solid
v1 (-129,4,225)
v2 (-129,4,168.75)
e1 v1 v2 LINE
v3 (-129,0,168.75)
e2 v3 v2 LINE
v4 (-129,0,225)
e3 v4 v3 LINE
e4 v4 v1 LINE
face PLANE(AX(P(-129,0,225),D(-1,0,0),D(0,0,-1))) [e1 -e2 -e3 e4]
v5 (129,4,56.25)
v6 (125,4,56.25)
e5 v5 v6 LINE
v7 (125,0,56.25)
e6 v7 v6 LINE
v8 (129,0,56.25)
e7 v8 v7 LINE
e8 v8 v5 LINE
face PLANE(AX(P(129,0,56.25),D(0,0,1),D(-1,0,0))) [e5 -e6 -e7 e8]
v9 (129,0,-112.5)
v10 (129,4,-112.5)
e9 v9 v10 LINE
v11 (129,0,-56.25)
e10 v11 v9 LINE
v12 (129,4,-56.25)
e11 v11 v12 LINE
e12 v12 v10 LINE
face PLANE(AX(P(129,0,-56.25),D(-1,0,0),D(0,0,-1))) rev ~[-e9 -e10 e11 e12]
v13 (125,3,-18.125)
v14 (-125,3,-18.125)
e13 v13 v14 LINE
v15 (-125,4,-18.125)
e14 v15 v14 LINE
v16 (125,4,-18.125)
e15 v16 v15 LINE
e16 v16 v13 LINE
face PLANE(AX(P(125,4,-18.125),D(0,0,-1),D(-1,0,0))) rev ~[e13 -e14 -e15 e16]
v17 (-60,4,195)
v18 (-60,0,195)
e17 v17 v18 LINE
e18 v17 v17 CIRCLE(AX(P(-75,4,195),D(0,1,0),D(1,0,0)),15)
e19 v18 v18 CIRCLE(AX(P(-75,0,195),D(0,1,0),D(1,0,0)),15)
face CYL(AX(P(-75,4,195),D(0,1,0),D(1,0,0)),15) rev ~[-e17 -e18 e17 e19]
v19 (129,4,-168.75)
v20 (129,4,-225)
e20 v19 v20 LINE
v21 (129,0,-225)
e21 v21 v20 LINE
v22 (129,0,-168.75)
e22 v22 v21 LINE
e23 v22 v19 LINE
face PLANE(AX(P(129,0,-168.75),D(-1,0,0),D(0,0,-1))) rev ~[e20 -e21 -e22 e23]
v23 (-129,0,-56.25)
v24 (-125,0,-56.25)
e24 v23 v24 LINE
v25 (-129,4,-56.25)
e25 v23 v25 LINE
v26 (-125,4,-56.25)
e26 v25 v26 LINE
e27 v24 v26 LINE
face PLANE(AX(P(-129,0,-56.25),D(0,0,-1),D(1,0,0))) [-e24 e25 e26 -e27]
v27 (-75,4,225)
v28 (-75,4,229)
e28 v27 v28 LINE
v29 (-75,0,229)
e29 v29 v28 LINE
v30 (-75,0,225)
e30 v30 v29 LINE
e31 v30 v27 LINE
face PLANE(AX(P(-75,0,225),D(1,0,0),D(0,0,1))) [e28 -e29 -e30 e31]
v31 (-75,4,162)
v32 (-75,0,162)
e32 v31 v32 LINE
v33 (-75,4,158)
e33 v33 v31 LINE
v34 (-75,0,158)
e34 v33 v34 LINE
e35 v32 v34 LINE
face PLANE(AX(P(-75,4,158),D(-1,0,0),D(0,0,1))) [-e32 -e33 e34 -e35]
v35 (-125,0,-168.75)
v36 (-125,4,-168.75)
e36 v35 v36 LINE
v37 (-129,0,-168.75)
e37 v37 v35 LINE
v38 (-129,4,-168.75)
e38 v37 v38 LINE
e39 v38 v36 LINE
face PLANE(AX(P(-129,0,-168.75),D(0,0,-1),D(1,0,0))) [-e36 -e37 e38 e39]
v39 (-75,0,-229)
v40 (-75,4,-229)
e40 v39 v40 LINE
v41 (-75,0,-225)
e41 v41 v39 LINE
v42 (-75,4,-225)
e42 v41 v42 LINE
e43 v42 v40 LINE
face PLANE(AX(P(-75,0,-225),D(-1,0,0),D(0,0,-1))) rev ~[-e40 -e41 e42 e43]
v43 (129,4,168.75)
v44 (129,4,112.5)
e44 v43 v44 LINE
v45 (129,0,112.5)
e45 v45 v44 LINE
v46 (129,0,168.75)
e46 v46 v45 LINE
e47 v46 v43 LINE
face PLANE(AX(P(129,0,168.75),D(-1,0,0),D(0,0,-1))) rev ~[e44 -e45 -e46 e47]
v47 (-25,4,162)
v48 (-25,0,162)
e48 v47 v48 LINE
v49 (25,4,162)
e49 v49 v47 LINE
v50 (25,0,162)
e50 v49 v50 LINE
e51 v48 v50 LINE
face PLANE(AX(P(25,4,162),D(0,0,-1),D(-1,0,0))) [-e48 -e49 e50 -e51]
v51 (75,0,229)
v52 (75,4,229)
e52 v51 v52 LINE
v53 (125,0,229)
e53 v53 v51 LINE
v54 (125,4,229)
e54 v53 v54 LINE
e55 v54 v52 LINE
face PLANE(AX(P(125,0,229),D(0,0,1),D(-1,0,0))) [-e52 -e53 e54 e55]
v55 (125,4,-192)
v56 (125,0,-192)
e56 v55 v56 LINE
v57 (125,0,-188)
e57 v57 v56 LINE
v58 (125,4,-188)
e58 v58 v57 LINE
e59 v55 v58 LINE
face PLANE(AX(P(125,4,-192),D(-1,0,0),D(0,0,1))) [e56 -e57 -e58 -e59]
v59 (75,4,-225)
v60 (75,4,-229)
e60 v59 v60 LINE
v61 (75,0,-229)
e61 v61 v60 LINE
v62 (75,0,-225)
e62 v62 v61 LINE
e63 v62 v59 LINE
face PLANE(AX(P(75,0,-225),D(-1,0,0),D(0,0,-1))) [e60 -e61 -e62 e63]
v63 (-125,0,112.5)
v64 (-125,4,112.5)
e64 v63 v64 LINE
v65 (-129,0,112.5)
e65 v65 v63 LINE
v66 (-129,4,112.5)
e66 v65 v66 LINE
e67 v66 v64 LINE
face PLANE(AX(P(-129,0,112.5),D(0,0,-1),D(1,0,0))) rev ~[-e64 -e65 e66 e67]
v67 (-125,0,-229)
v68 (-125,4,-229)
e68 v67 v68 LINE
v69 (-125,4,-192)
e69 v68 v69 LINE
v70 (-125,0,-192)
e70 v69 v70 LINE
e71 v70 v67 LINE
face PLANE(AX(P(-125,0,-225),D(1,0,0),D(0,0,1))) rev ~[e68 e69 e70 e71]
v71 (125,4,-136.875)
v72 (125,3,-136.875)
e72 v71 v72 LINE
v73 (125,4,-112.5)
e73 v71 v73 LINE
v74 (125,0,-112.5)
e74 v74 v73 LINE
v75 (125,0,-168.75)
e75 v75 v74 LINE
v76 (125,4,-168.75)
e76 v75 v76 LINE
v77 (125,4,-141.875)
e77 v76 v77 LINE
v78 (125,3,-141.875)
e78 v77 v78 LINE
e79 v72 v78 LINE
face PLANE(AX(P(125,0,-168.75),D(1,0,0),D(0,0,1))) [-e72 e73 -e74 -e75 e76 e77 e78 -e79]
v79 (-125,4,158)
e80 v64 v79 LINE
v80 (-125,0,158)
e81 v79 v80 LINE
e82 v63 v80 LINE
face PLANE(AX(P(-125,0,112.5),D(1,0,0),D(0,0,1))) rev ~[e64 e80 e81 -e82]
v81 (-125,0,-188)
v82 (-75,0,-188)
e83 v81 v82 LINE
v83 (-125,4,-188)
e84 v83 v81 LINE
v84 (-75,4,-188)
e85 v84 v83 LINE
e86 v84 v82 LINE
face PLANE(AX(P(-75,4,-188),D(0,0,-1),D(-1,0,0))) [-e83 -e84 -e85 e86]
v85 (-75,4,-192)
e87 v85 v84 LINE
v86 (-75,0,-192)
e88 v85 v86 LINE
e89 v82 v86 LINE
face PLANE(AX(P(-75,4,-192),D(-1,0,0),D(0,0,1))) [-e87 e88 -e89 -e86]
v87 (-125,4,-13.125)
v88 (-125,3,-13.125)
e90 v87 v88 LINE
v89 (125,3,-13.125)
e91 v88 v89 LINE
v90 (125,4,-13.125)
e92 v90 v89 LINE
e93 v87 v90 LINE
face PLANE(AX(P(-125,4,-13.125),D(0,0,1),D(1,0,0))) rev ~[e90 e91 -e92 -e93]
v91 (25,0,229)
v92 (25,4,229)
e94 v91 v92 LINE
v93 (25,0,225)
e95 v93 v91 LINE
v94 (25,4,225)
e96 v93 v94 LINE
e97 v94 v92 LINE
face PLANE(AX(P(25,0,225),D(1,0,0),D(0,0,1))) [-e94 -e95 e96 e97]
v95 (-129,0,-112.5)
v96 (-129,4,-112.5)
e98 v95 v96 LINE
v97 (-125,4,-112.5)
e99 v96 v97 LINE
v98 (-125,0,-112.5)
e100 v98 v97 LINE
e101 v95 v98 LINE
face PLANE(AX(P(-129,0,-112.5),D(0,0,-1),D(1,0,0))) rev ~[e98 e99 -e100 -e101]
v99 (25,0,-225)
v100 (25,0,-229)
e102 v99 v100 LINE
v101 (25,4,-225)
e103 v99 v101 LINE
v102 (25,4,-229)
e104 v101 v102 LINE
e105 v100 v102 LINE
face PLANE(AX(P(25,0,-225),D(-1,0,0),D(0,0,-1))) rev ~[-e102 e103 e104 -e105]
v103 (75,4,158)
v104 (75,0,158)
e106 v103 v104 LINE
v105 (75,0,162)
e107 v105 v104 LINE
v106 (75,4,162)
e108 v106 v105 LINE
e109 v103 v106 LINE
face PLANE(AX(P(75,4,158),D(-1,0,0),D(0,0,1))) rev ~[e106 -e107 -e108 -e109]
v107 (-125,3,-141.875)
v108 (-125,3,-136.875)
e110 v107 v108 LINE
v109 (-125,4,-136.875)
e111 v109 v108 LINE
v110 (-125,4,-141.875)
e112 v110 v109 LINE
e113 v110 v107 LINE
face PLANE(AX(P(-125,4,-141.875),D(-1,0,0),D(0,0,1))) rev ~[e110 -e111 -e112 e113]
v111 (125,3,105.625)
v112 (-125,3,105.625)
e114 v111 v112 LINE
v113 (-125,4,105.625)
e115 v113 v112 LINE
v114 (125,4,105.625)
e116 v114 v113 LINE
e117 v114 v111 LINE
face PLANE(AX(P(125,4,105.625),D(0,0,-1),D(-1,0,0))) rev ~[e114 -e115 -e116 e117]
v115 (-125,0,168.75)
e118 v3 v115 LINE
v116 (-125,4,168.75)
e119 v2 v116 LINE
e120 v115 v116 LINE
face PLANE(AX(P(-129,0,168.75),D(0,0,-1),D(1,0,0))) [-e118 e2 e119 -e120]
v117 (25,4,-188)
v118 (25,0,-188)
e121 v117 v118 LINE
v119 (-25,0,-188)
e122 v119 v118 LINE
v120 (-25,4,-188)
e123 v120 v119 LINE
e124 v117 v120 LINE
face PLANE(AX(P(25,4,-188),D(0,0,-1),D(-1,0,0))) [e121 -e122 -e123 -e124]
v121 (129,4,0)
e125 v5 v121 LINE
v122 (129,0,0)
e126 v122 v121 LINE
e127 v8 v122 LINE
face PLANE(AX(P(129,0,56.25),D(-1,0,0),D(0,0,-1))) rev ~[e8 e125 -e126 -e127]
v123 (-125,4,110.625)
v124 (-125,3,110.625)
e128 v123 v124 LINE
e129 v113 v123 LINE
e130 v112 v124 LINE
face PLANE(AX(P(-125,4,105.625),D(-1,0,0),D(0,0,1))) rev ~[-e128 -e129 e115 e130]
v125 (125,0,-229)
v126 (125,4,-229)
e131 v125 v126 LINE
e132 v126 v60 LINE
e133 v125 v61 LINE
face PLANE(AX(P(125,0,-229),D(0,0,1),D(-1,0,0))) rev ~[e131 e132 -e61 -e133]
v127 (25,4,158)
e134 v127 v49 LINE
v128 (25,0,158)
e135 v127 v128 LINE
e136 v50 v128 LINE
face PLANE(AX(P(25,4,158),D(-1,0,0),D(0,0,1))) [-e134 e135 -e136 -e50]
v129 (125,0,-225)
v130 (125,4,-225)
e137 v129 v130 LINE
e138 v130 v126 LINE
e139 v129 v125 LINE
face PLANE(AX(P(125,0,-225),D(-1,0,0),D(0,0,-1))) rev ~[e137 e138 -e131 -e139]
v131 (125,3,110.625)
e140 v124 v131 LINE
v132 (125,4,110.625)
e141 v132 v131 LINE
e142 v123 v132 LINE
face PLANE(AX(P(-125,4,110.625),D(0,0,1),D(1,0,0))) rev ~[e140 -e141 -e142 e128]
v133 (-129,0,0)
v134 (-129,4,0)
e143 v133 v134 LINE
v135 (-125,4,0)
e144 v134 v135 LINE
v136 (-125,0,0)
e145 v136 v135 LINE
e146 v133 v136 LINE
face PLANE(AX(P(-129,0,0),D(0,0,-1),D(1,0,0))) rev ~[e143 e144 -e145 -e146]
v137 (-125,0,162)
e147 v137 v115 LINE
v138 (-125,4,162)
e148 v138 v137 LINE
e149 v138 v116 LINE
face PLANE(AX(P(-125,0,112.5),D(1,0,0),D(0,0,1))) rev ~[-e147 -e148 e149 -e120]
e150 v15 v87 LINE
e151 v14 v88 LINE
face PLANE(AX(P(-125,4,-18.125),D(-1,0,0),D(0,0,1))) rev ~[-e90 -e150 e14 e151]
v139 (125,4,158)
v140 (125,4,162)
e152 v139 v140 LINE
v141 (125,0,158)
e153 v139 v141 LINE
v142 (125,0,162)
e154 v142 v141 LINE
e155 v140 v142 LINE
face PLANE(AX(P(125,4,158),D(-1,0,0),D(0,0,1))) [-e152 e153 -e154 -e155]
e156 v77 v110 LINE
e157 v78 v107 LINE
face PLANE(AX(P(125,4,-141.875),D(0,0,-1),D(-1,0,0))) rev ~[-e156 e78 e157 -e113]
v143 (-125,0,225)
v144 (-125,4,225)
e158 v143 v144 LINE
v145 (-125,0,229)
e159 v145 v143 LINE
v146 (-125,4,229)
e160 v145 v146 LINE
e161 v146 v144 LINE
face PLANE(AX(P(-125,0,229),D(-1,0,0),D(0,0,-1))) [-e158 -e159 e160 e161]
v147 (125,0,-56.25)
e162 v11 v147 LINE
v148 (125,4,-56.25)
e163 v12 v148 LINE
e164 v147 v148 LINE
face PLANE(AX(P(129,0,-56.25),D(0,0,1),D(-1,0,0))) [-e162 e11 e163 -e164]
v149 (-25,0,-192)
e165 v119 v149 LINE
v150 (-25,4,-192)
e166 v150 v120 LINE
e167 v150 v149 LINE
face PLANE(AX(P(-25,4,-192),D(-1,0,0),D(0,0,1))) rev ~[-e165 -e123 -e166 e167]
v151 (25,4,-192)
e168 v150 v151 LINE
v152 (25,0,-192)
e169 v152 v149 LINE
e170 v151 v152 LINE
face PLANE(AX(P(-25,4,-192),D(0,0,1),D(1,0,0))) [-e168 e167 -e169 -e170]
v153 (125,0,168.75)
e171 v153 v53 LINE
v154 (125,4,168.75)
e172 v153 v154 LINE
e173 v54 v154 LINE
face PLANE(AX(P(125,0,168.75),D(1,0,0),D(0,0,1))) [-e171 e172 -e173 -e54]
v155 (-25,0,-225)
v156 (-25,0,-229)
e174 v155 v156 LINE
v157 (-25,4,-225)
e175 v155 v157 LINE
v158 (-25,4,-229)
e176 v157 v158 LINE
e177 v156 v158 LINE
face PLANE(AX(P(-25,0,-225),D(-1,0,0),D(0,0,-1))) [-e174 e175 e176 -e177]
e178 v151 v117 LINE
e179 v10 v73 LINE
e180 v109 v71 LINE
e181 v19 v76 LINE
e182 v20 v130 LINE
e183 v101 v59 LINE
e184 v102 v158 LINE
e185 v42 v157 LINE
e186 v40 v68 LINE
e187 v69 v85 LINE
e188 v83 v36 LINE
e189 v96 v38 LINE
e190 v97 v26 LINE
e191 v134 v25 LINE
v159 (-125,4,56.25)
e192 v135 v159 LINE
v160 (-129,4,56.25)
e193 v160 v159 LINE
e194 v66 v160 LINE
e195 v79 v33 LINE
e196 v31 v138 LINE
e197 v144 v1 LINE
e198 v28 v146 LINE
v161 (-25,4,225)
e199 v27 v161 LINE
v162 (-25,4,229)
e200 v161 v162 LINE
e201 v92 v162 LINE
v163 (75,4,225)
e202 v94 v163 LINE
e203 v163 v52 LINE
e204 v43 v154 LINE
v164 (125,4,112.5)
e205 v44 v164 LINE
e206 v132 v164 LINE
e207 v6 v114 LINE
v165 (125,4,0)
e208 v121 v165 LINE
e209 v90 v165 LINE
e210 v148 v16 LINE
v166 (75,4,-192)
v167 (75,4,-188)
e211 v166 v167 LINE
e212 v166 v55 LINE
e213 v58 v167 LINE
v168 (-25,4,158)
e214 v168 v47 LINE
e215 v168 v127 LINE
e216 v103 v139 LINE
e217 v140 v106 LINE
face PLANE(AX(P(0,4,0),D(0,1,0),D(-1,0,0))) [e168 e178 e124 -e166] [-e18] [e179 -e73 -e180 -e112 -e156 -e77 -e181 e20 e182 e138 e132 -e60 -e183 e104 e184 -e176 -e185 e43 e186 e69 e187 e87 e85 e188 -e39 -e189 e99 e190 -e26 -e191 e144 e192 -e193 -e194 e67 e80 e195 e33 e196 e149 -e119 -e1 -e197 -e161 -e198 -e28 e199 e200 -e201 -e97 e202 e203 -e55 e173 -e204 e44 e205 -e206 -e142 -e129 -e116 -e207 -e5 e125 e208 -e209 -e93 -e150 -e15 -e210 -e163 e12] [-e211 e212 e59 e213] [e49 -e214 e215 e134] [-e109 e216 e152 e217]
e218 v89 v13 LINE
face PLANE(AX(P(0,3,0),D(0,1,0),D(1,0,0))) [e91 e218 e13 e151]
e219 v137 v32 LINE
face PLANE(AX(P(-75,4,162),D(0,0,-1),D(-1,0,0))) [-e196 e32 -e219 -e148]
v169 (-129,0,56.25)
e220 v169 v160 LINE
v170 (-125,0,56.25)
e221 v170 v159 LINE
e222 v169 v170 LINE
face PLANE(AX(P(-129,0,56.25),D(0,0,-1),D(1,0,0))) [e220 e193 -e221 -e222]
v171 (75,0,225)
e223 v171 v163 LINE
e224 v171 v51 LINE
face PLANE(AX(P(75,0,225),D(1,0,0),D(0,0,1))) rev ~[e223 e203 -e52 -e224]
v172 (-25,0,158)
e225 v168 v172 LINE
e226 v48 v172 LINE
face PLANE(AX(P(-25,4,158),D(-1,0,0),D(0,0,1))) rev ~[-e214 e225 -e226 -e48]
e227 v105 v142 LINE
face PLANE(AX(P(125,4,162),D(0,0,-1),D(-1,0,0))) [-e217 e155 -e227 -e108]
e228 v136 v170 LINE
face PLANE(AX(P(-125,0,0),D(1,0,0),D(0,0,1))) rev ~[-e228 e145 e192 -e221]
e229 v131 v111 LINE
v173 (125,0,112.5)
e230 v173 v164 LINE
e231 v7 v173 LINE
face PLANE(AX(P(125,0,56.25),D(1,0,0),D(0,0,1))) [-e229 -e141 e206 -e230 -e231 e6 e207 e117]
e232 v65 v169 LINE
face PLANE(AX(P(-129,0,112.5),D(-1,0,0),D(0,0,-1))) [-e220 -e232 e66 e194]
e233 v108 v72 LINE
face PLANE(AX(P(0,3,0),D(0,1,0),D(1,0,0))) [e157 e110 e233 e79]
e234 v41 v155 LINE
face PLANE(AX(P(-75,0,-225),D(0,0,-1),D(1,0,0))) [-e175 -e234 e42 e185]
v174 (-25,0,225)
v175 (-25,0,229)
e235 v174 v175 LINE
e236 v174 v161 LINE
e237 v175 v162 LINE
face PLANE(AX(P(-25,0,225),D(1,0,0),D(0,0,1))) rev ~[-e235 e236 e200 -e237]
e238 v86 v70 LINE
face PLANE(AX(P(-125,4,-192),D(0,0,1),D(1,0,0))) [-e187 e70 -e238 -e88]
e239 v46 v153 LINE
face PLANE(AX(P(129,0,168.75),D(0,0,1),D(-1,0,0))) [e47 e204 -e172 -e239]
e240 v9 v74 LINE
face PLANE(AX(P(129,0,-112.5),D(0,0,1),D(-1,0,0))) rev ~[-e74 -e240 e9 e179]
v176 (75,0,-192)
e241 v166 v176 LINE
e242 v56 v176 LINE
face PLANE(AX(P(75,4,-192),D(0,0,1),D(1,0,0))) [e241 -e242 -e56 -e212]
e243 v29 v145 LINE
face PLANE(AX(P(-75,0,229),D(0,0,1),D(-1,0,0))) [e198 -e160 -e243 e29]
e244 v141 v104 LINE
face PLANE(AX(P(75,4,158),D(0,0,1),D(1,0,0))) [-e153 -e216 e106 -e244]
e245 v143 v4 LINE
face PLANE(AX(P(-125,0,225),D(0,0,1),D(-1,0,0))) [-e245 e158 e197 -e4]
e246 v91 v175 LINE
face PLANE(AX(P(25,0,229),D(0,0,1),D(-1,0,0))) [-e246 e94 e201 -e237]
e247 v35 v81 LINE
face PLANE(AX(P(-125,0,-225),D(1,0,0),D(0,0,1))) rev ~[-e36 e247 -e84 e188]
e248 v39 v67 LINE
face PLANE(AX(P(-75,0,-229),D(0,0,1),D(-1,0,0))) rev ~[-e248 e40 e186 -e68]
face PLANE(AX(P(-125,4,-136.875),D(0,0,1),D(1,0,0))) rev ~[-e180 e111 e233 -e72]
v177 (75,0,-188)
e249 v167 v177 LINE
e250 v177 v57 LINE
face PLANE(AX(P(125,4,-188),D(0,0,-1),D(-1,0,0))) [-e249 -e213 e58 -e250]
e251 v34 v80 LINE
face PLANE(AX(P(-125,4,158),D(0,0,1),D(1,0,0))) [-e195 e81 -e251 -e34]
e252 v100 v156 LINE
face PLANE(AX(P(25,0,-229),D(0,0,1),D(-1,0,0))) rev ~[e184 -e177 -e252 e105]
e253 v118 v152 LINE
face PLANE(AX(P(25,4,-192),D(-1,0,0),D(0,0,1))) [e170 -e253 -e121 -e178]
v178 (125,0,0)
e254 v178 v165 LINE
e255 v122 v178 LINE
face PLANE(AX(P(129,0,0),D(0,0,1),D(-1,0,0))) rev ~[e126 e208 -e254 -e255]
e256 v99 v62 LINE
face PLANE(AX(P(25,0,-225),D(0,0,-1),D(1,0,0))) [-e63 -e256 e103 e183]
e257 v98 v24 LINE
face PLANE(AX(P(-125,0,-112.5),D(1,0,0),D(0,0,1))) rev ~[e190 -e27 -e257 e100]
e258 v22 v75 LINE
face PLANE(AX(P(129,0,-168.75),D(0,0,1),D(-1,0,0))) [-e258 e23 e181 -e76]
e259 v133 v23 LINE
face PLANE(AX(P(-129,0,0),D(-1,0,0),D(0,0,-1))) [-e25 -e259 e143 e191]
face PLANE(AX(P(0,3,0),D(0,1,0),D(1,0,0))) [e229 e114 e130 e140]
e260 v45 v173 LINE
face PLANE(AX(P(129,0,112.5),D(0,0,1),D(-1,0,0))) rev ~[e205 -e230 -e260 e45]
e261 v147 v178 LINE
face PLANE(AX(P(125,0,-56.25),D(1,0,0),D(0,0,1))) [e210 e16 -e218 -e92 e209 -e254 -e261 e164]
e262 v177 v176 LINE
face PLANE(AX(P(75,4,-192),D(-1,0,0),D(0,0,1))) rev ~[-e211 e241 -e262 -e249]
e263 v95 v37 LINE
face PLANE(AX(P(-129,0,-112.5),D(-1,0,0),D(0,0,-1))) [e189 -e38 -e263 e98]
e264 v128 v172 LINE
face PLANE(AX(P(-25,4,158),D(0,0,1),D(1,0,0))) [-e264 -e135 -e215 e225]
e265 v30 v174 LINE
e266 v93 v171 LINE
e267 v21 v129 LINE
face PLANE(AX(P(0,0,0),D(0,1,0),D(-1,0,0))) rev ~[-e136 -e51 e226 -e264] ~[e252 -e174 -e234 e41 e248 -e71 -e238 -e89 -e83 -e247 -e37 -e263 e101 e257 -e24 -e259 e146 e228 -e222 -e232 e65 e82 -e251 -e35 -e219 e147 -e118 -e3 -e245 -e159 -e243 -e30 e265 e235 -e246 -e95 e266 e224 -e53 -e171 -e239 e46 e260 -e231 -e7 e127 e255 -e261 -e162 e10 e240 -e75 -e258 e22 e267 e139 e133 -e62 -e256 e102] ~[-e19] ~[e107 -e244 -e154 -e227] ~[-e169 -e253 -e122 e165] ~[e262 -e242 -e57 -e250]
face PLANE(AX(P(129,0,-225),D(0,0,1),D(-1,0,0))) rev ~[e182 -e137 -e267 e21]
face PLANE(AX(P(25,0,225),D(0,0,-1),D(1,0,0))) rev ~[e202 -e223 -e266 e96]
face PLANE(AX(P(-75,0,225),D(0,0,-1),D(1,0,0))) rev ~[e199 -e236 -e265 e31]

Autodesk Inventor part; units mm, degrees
ref_plane "YZ Plane" through (0, 0, 0) normal (1, 0, 0) x (0, 1, 0)
ref_plane "XZ Plane" through (0, 0, 0) normal (0, 1, 0) x (-1, 0, 0)
ref_plane "XY Plane" through (0, 0, 0) normal (0, 0, 1) x (1, 0, 0)
sketch "Sketch1" plane through (0, 0, 0) normal (0, 1, 0) x (-1, 0, 0)
  line L0 (-125, 225) -> (125, 225) construction
  line L1 (125, 225) -> (125, -225) construction
  line L2 (125, -225) -> (-125, -225) construction
  line L3 (-125, -225) -> (-125, 225) construction
  line L4 (-125, 225) -> (125, -225) construction
  line L5 (125, 225) -> (-125, -225) construction
  line L6 (125, 225) -> (75, 225) construction
  line L7 (75, 225) -> (75, 229)
  line L8 (75, 229) -> (125, 229)
  line L9 (125, 229) -> (125, 225)
  line L10 (125, 225) -> (129, 225)
  line L11 (129, 225) -> (129, 168.75)
  line L12 (129, 168.75) -> (125, 168.75)
  line L13 (125, 168.75) -> (125, 225) construction
  line L14 (-125, 225) -> (-129, 225) construction
  line L15 (-129, 225) -> (-129, 168.75) construction
  line L16 (-129, 168.75) -> (-125, 168.75)
  line L17 (-125, 168.75) -> (-125, 225)
  line L18 (125, -225) -> (75, -225) construction
  line L19 (75, -225) -> (75, -229)
  line L20 (75, -229) -> (125, -229)
  line L21 (125, -229) -> (125, -225)
  line L22 (125, 112.5) -> (125, 168.75)
  line L23 (125, 168.75) -> (129, 168.75)
  line L24 (129, 112.5) -> (125, 112.5)
  line L25 (129, 168.75) -> (129, 112.5) construction
  line L26 (-125, 112.5) -> (-125, 168.75) construction
  line L27 (-125, 168.75) -> (-129, 168.75)
  line L28 (-129, 168.75) -> (-129, 112.5)
  line L29 (-129, 112.5) -> (-125, 112.5)
  line L30 (125, 56.25) -> (125, 112.5) construction
  line L31 (125, 112.5) -> (129, 112.5)
  line L32 (129, 56.25) -> (125, 56.25)
  line L33 (129, 112.5) -> (129, 56.25)
  line L34 (-125, 56.25) -> (-125, 112.5)
  line L35 (-125, 112.5) -> (-129, 112.5)
  line L36 (-129, 112.5) -> (-129, 56.25) construction
  line L37 (-129, 56.25) -> (-125, 56.25)
  line L38 (125, 0) -> (125, 56.25)
  line L39 (125, 56.25) -> (129, 56.25)
  line L40 (129, 0) -> (125, 0)
  line L41 (129, 56.25) -> (129, 0) construction
  line L42 (-125, 0) -> (-125, 56.25) construction
  line L43 (-125, 56.25) -> (-129, 56.25)
  line L44 (-129, 56.25) -> (-129, 0)
  line L45 (-129, 0) -> (-125, 0)
  line L46 (125, -56.25) -> (125, 0) construction
  line L47 (125, 0) -> (129, 0)
  line L48 (129, -56.25) -> (125, -56.25)
  line L49 (129, 0) -> (129, -56.25)
  line L50 (-125, -56.25) -> (-125, 0)
  line L51 (-125, 0) -> (-129, 0)
  line L52 (-129, 0) -> (-129, -56.25) construction
  line L53 (-129, -56.25) -> (-125, -56.25)
  line L54 (125, -112.5) -> (125, -56.25)
  line L55 (125, -56.25) -> (129, -56.25)
  line L56 (129, -112.5) -> (125, -112.5)
  line L57 (129, -56.25) -> (129, -112.5) construction
  line L58 (-125, -112.5) -> (-125, -56.25) construction
  line L59 (-125, -56.25) -> (-129, -56.25)
  line L60 (-129, -56.25) -> (-129, -112.5)
  line L61 (-129, -112.5) -> (-125, -112.5)
  line L62 (125, -168.75) -> (125, -112.5) construction
  line L63 (125, -112.5) -> (129, -112.5)
  line L64 (129, -168.75) -> (125, -168.75)
  line L65 (129, -112.5) -> (129, -168.75)
  line L66 (-125, -168.75) -> (-125, -112.5)
  line L67 (-125, -112.5) -> (-129, -112.5)
  line L68 (-129, -112.5) -> (-129, -168.75) construction
  line L69 (-129, -168.75) -> (-125, -168.75)
  line L70 (125, -225) -> (125, -168.75)
  line L71 (125, -168.75) -> (129, -168.75)
  line L72 (129, -225) -> (125, -225) construction
  line L73 (129, -168.75) -> (129, -225) construction
  line L74 (-125, -225) -> (-125, -168.75) construction
  line L75 (-125, -168.75) -> (-129, -168.75)
  line L76 (-129, -168.75) -> (-129, -225)
  line L77 (-129, -225) -> (-125, -225)
  line L78 (75, 229) -> (75, 225)
  line L79 (25, 225) -> (25, 229)
  line L80 (25, 229) -> (75, 229) construction
  line L81 (75, 225) -> (25, 225)
  line L82 (75, -225) -> (25, -225)
  line L83 (25, -225) -> (25, -229)
  line L84 (25, -229) -> (75, -229) construction
  line L85 (75, -229) -> (75, -225)
  line L86 (25, 229) -> (25, 225)
  line L87 (-25, 225) -> (-25, 229)
  line L88 (-25, 229) -> (25, 229)
  line L89 (25, 225) -> (-25, 225) construction
  line L90 (25, -225) -> (-25, -225) construction
  line L91 (-25, -225) -> (-25, -229)
  line L92 (-25, -229) -> (25, -229)
  line L93 (25, -229) -> (25, -225)
  line L94 (-25, 229) -> (-25, 225)
  line L95 (-75, 225) -> (-75, 229)
  line L96 (-75, 229) -> (-25, 229) construction
  line L97 (-25, 225) -> (-75, 225)
  line L98 (-25, -225) -> (-75, -225)
  line L99 (-75, -225) -> (-75, -229)
  line L100 (-75, -229) -> (-25, -229) construction
  line L101 (-25, -229) -> (-25, -225)
  line L102 (-75, 229) -> (-75, 225)
  line L103 (-125, 225) -> (-125, 229)
  line L104 (-125, 229) -> (-75, 229)
  line L105 (-75, 225) -> (-125, 225) construction
  line L106 (-75, -225) -> (-125, -225) construction
  line L107 (-125, -225) -> (-125, -229)
  line L108 (-125, -229) -> (-75, -229)
  line L109 (-75, -229) -> (-75, -225)
  point P0 (0, 0)
  point P1 (75, -225)
  point P2 (25, -225)
  point P3 (-25, -225)
  point P4 (-75, -225)
  point P5 (-129, 168.75)
  point P6 (-129, 56.25)
  point P7 (-129, -56.25)
  point P8 (-129, -168.75)
  point P9 (-125, -225)
  point P10 (-25, -225)
  point P11 (75, -225)
  point P12 (125, -56.25)
  point P13 (125, 56.25)
  point P14 (125, 168.75)
  dimension "d0" = 250
  dimension "d1" = 450
  dimension "d2" = 50
  dimension "d3" = 4
  dimension "d4" = 4
  dimension "d5" = 56.25
  dimension "d6" = 4
  dimension "d7" = 56.25
  dimension "d8" = 50
  dimension "d9" = 4
  dimension "d12" = 56.25
  dimension "d19" = 50
extrude "Extrusion1" add sketch "Sketch1" along normal blind 4
sketch "Sketch3" plane through (0, 4, 0) normal (0, 1, 0) x (1, 0, 0)
  line L0 (-129, 56.25) -> (-129, 0) projected
  line L1 (-129, 15.625) -> (125, 15.625) construction
  line L2 (125, 0) -> (125, 56.25) projected
  line L3 (-129, 13.125) -> (125, 13.125)
  line L4 (125, 13.125) -> (125, 18.125)
  line L5 (125, 18.125) -> (-129, 18.125)
  line L6 (-129, 18.125) -> (-129, 13.125)
  line L7 (-129, 18.125) -> (-125, 18.125)
  line L8 (-125, 18.125) -> (-125, 13.125)
  line L9 (-125, 13.125) -> (-129, 13.125)
  line L10 (-129, 13.125) -> (-129, 18.125)
  line L11 (-25, -225) -> (-25, -229) projected
  line L12 (-25, -229) -> (25, -229) projected
  line L13 (25, -229) -> (25, -225) projected
  line L14 (25, -225) -> (75, -225) projected
  line L15 (75, -225) -> (75, -229) projected
  line L16 (75, -229) -> (125, -229) projected
  line L17 (125, -229) -> (125, -168.75) projected
  line L18 (125, -168.75) -> (129, -168.75) projected
  line L19 (129, -168.75) -> (129, -112.5) projected
  line L20 (129, -112.5) -> (125, -112.5) projected
  line L21 (125, -112.5) -> (125, -56.25) projected
  line L22 (125, -56.25) -> (129, -56.25) projected
  line L23 (129, -56.25) -> (129, 0) projected
  line L24 (129, 0) -> (125, 0) projected
  line L25 (125, 0) -> (125, 56.25) projected
  line L26 (125, 56.25) -> (129, 56.25) projected
  line L27 (129, 56.25) -> (129, 112.5) projected
  line L28 (129, 112.5) -> (125, 112.5) projected
  line L29 (125, 112.5) -> (125, 168.75) projected
  line L30 (125, 168.75) -> (129, 168.75) projected
  line L31 (129, 168.75) -> (129, 225) projected
  line L32 (129, 225) -> (125, 225) projected
  line L33 (125, 225) -> (125, 229) projected
  line L34 (125, 229) -> (75, 229) projected
  line L35 (75, 229) -> (75, 225) projected
  line L36 (75, 225) -> (25, 225) projected
  line L37 (25, 225) -> (25, 229) projected
  line L38 (25, 229) -> (-25, 229) projected
  line L39 (-25, 229) -> (-25, 225) projected
  line L40 (-25, 225) -> (-75, 225) projected
  line L41 (-75, 225) -> (-75, 229) projected
  line L42 (-75, 229) -> (-125, 229) projected
  line L43 (-125, 229) -> (-125, 168.75) projected
  line L44 (-125, 168.75) -> (-129, 168.75) projected
  line L45 (-129, 168.75) -> (-129, 112.5) projected
  line L46 (-129, 112.5) -> (-125, 112.5) projected
  line L47 (-125, 112.5) -> (-125, 56.25) projected
  line L48 (-125, 56.25) -> (-129, 56.25) projected
  line L49 (-129, 56.25) -> (-129, 0) projected
  line L50 (-129, 0) -> (-125, 0) projected
  line L51 (-125, 0) -> (-125, -56.25) projected
  line L52 (-125, -56.25) -> (-129, -56.25) projected
  line L53 (-129, -56.25) -> (-129, -112.5) projected
  line L54 (-129, -112.5) -> (-125, -112.5) projected
  line L55 (-125, -112.5) -> (-125, -168.75) projected
  line L56 (-125, -168.75) -> (-129, -168.75) projected
  line L57 (-129, -168.75) -> (-129, -225) projected
  line L58 (-129, -225) -> (-125, -225) projected
  line L59 (-125, -225) -> (-125, -229) projected
  line L60 (-125, -229) -> (-75, -229) projected
  line L61 (-75, -229) -> (-75, -225) projected
  line L62 (-75, -225) -> (-25, -225) projected
  line L63 (-125, -112.5) -> (-125, -168.75) projected
  line L64 (-109.8402, -80.4521) -> (129, -140.625) construction
  line L65 (129, -168.75) -> (129, -112.5) projected
  line L66 (-125, -110.625) -> (125, -110.625)
  line L67 (125, -110.625) -> (125, -105.625)
  line L68 (125, -105.625) -> (-125, -105.625)
  line L69 (-125, -105.625) -> (-125, -110.625)
  line L70 (-125, -110.625) -> (125, -105.625) construction
  line L71 (125, -110.625) -> (-125, -105.625) construction
  line L72 (125, 0) -> (125, 56.25) projected
  line L73 (-125, 0) -> (-125, -56.25) projected
  line L74 (129, 168.75) -> (129, 225) projected
  line L75 (129, 139.375) -> (-125, 139.375) construction
  line L76 (-125, 136.875) -> (125, 136.875)
  line L77 (125, 136.875) -> (125, 141.875)
  line L78 (125, 141.875) -> (-125, 141.875)
  line L79 (-125, 141.875) -> (-125, 136.875)
  line L80 (-125, 136.875) -> (125, 141.875) construction
  line L81 (125, 136.875) -> (-125, 141.875) construction
  line L82 (-125, 229) -> (-125, 168.75) projected
  line L83 (125, 112.5) -> (125, 168.75) projected
  point P0 (0, 0)
  point P1 (-129, 18.125)
  point P2 (-125, 18.125)
  point P3 (-125, 13.125)
  point P4 (0, -108.125)
  point P5 (-125, -138.125)
  point P6 (-125, -143.125)
  point P7 (0, 139.375)
  point P8 (-125, 199.375)
  point P9 (-125, 194.375)
  dimension "d30" = 5
  dimension "d34" = 5
  dimension "d35" = 5
  dimension "d36" = 5
  dimension "d56" = 118.375
  dimension "d57" = 118.75
  dimension "d59" = 118.75
extrude "Extrusion2" cut sketch "Sketch3" against normal blind 1 contours L5 L2 L3 L8 | L76 L79 L78 L29 | L21 L66 L69 L68
sketch "Sketch4" plane through (0, 4, 0) normal (0, 1, 0) x (1, 0, 0)
  line L0 (-125, -158) -> (-75, -158)
  line L1 (-75, -158) -> (-75, -162)
  line L2 (-75, -162) -> (-125, -162)
  line L3 (-125, -162) -> (-125, -158)
  line L4 (-75, -225) -> (-25, -225) projected
  line L5 (125, -110.625) -> (-125, -110.625) projected
  line L6 (-75, -158) -> (-25, -158)
  line L7 (-25, -158) -> (-25, -162)
  line L8 (-25, -162) -> (-75, -162)
  line L9 (-75, -162) -> (-75, -158)
  line L10 (-25, -158) -> (25, -158)
  line L11 (25, -158) -> (25, -162)
  line L12 (25, -162) -> (-25, -162)
  line L13 (-25, -162) -> (-25, -158)
  line L14 (25, -158) -> (75, -158)
  line L15 (75, -158) -> (75, -162)
  line L16 (75, -162) -> (25, -162)
  line L17 (25, -162) -> (25, -158)
  line L18 (75, -158) -> (125, -158)
  line L19 (125, -158) -> (125, -162)
  line L20 (125, -162) -> (75, -162)
  line L21 (75, -162) -> (75, -158)
  line L22 (-125, 0) -> (-125, -56.25) projected
  line L23 (-125, 192) -> (-75, 192)
  line L24 (-75, 192) -> (-75, 188)
  line L25 (-75, 188) -> (-125, 188)
  line L26 (-125, 188) -> (-125, 192)
  line L27 (-75, 192) -> (-25, 192)
  line L28 (-25, 192) -> (-25, 188)
  line L29 (-25, 188) -> (-25, 192)
  line L30 (-25, 188) -> (-75, 188)
  line L31 (-75, 188) -> (-75, 192)
  line L32 (-25, 192) -> (25, 192)
  line L33 (25, 188) -> (-25, 188)
  line L34 (25, 192) -> (25, 188)
  line L35 (25, 188) -> (25, 192)
  line L36 (25, 192) -> (75, 192)
  line L37 (75, 192) -> (75, 188)
  line L38 (75, 188) -> (75, 192)
  line L39 (75, 192) -> (125, 192)
  line L40 (125, 192) -> (125, 188)
  line L41 (125, 188) -> (75, 188)
  line L42 (75, 188) -> (25, 188)
  point P0 (0, 0)
  point P1 (-125, -160)
  point P2 (-75, -160)
  point P3 (-25, -160)
  point P4 (25, -160)
  point P5 (75, -160)
  point P6 (-25, -162)
  point P7 (-125, 190)
  point P8 (-25, 190)
  point P9 (-75, 190)
  point P10 (25, 190)
  point P11 (75, 190)
  point P12 (-25, 188)
  point P13 (-125, -168.75)
  dimension "d37" = 50
  dimension "d38" = 4
  dimension "d39" = 63
  dimension "d42" = 50
  dimension "d51" = 350
extrude "Extrusion3" cut sketch "Sketch4" against normal up to next contours L0 L1 L2 L3 | L10 L11 L12 L7 | L18 L19 L20 L15 | L23 L24 L25 L26 | L32 L34 L33 L28 | L39 L40 L41 L37
sketch "Sketch6" plane through (0, 4, 0) normal (0, 1, 0) x (1, 0, 0)
  circle A0 centre (-75, -195) radius 15
  line L0 (-75, -225) -> (-25, -225) projected
  line L1 (-125, -162) -> (-125, -168.75) projected
  point P0 (0, 0)
  point P1 (-125, -165.375)
  dimension "d60" = 30
  dimension "d61" = 30
  dimension "d62" = 50
extrude "Extrusion4" cut sketch "Sketch6" against normal through all
properties part number "Rear_V2"
